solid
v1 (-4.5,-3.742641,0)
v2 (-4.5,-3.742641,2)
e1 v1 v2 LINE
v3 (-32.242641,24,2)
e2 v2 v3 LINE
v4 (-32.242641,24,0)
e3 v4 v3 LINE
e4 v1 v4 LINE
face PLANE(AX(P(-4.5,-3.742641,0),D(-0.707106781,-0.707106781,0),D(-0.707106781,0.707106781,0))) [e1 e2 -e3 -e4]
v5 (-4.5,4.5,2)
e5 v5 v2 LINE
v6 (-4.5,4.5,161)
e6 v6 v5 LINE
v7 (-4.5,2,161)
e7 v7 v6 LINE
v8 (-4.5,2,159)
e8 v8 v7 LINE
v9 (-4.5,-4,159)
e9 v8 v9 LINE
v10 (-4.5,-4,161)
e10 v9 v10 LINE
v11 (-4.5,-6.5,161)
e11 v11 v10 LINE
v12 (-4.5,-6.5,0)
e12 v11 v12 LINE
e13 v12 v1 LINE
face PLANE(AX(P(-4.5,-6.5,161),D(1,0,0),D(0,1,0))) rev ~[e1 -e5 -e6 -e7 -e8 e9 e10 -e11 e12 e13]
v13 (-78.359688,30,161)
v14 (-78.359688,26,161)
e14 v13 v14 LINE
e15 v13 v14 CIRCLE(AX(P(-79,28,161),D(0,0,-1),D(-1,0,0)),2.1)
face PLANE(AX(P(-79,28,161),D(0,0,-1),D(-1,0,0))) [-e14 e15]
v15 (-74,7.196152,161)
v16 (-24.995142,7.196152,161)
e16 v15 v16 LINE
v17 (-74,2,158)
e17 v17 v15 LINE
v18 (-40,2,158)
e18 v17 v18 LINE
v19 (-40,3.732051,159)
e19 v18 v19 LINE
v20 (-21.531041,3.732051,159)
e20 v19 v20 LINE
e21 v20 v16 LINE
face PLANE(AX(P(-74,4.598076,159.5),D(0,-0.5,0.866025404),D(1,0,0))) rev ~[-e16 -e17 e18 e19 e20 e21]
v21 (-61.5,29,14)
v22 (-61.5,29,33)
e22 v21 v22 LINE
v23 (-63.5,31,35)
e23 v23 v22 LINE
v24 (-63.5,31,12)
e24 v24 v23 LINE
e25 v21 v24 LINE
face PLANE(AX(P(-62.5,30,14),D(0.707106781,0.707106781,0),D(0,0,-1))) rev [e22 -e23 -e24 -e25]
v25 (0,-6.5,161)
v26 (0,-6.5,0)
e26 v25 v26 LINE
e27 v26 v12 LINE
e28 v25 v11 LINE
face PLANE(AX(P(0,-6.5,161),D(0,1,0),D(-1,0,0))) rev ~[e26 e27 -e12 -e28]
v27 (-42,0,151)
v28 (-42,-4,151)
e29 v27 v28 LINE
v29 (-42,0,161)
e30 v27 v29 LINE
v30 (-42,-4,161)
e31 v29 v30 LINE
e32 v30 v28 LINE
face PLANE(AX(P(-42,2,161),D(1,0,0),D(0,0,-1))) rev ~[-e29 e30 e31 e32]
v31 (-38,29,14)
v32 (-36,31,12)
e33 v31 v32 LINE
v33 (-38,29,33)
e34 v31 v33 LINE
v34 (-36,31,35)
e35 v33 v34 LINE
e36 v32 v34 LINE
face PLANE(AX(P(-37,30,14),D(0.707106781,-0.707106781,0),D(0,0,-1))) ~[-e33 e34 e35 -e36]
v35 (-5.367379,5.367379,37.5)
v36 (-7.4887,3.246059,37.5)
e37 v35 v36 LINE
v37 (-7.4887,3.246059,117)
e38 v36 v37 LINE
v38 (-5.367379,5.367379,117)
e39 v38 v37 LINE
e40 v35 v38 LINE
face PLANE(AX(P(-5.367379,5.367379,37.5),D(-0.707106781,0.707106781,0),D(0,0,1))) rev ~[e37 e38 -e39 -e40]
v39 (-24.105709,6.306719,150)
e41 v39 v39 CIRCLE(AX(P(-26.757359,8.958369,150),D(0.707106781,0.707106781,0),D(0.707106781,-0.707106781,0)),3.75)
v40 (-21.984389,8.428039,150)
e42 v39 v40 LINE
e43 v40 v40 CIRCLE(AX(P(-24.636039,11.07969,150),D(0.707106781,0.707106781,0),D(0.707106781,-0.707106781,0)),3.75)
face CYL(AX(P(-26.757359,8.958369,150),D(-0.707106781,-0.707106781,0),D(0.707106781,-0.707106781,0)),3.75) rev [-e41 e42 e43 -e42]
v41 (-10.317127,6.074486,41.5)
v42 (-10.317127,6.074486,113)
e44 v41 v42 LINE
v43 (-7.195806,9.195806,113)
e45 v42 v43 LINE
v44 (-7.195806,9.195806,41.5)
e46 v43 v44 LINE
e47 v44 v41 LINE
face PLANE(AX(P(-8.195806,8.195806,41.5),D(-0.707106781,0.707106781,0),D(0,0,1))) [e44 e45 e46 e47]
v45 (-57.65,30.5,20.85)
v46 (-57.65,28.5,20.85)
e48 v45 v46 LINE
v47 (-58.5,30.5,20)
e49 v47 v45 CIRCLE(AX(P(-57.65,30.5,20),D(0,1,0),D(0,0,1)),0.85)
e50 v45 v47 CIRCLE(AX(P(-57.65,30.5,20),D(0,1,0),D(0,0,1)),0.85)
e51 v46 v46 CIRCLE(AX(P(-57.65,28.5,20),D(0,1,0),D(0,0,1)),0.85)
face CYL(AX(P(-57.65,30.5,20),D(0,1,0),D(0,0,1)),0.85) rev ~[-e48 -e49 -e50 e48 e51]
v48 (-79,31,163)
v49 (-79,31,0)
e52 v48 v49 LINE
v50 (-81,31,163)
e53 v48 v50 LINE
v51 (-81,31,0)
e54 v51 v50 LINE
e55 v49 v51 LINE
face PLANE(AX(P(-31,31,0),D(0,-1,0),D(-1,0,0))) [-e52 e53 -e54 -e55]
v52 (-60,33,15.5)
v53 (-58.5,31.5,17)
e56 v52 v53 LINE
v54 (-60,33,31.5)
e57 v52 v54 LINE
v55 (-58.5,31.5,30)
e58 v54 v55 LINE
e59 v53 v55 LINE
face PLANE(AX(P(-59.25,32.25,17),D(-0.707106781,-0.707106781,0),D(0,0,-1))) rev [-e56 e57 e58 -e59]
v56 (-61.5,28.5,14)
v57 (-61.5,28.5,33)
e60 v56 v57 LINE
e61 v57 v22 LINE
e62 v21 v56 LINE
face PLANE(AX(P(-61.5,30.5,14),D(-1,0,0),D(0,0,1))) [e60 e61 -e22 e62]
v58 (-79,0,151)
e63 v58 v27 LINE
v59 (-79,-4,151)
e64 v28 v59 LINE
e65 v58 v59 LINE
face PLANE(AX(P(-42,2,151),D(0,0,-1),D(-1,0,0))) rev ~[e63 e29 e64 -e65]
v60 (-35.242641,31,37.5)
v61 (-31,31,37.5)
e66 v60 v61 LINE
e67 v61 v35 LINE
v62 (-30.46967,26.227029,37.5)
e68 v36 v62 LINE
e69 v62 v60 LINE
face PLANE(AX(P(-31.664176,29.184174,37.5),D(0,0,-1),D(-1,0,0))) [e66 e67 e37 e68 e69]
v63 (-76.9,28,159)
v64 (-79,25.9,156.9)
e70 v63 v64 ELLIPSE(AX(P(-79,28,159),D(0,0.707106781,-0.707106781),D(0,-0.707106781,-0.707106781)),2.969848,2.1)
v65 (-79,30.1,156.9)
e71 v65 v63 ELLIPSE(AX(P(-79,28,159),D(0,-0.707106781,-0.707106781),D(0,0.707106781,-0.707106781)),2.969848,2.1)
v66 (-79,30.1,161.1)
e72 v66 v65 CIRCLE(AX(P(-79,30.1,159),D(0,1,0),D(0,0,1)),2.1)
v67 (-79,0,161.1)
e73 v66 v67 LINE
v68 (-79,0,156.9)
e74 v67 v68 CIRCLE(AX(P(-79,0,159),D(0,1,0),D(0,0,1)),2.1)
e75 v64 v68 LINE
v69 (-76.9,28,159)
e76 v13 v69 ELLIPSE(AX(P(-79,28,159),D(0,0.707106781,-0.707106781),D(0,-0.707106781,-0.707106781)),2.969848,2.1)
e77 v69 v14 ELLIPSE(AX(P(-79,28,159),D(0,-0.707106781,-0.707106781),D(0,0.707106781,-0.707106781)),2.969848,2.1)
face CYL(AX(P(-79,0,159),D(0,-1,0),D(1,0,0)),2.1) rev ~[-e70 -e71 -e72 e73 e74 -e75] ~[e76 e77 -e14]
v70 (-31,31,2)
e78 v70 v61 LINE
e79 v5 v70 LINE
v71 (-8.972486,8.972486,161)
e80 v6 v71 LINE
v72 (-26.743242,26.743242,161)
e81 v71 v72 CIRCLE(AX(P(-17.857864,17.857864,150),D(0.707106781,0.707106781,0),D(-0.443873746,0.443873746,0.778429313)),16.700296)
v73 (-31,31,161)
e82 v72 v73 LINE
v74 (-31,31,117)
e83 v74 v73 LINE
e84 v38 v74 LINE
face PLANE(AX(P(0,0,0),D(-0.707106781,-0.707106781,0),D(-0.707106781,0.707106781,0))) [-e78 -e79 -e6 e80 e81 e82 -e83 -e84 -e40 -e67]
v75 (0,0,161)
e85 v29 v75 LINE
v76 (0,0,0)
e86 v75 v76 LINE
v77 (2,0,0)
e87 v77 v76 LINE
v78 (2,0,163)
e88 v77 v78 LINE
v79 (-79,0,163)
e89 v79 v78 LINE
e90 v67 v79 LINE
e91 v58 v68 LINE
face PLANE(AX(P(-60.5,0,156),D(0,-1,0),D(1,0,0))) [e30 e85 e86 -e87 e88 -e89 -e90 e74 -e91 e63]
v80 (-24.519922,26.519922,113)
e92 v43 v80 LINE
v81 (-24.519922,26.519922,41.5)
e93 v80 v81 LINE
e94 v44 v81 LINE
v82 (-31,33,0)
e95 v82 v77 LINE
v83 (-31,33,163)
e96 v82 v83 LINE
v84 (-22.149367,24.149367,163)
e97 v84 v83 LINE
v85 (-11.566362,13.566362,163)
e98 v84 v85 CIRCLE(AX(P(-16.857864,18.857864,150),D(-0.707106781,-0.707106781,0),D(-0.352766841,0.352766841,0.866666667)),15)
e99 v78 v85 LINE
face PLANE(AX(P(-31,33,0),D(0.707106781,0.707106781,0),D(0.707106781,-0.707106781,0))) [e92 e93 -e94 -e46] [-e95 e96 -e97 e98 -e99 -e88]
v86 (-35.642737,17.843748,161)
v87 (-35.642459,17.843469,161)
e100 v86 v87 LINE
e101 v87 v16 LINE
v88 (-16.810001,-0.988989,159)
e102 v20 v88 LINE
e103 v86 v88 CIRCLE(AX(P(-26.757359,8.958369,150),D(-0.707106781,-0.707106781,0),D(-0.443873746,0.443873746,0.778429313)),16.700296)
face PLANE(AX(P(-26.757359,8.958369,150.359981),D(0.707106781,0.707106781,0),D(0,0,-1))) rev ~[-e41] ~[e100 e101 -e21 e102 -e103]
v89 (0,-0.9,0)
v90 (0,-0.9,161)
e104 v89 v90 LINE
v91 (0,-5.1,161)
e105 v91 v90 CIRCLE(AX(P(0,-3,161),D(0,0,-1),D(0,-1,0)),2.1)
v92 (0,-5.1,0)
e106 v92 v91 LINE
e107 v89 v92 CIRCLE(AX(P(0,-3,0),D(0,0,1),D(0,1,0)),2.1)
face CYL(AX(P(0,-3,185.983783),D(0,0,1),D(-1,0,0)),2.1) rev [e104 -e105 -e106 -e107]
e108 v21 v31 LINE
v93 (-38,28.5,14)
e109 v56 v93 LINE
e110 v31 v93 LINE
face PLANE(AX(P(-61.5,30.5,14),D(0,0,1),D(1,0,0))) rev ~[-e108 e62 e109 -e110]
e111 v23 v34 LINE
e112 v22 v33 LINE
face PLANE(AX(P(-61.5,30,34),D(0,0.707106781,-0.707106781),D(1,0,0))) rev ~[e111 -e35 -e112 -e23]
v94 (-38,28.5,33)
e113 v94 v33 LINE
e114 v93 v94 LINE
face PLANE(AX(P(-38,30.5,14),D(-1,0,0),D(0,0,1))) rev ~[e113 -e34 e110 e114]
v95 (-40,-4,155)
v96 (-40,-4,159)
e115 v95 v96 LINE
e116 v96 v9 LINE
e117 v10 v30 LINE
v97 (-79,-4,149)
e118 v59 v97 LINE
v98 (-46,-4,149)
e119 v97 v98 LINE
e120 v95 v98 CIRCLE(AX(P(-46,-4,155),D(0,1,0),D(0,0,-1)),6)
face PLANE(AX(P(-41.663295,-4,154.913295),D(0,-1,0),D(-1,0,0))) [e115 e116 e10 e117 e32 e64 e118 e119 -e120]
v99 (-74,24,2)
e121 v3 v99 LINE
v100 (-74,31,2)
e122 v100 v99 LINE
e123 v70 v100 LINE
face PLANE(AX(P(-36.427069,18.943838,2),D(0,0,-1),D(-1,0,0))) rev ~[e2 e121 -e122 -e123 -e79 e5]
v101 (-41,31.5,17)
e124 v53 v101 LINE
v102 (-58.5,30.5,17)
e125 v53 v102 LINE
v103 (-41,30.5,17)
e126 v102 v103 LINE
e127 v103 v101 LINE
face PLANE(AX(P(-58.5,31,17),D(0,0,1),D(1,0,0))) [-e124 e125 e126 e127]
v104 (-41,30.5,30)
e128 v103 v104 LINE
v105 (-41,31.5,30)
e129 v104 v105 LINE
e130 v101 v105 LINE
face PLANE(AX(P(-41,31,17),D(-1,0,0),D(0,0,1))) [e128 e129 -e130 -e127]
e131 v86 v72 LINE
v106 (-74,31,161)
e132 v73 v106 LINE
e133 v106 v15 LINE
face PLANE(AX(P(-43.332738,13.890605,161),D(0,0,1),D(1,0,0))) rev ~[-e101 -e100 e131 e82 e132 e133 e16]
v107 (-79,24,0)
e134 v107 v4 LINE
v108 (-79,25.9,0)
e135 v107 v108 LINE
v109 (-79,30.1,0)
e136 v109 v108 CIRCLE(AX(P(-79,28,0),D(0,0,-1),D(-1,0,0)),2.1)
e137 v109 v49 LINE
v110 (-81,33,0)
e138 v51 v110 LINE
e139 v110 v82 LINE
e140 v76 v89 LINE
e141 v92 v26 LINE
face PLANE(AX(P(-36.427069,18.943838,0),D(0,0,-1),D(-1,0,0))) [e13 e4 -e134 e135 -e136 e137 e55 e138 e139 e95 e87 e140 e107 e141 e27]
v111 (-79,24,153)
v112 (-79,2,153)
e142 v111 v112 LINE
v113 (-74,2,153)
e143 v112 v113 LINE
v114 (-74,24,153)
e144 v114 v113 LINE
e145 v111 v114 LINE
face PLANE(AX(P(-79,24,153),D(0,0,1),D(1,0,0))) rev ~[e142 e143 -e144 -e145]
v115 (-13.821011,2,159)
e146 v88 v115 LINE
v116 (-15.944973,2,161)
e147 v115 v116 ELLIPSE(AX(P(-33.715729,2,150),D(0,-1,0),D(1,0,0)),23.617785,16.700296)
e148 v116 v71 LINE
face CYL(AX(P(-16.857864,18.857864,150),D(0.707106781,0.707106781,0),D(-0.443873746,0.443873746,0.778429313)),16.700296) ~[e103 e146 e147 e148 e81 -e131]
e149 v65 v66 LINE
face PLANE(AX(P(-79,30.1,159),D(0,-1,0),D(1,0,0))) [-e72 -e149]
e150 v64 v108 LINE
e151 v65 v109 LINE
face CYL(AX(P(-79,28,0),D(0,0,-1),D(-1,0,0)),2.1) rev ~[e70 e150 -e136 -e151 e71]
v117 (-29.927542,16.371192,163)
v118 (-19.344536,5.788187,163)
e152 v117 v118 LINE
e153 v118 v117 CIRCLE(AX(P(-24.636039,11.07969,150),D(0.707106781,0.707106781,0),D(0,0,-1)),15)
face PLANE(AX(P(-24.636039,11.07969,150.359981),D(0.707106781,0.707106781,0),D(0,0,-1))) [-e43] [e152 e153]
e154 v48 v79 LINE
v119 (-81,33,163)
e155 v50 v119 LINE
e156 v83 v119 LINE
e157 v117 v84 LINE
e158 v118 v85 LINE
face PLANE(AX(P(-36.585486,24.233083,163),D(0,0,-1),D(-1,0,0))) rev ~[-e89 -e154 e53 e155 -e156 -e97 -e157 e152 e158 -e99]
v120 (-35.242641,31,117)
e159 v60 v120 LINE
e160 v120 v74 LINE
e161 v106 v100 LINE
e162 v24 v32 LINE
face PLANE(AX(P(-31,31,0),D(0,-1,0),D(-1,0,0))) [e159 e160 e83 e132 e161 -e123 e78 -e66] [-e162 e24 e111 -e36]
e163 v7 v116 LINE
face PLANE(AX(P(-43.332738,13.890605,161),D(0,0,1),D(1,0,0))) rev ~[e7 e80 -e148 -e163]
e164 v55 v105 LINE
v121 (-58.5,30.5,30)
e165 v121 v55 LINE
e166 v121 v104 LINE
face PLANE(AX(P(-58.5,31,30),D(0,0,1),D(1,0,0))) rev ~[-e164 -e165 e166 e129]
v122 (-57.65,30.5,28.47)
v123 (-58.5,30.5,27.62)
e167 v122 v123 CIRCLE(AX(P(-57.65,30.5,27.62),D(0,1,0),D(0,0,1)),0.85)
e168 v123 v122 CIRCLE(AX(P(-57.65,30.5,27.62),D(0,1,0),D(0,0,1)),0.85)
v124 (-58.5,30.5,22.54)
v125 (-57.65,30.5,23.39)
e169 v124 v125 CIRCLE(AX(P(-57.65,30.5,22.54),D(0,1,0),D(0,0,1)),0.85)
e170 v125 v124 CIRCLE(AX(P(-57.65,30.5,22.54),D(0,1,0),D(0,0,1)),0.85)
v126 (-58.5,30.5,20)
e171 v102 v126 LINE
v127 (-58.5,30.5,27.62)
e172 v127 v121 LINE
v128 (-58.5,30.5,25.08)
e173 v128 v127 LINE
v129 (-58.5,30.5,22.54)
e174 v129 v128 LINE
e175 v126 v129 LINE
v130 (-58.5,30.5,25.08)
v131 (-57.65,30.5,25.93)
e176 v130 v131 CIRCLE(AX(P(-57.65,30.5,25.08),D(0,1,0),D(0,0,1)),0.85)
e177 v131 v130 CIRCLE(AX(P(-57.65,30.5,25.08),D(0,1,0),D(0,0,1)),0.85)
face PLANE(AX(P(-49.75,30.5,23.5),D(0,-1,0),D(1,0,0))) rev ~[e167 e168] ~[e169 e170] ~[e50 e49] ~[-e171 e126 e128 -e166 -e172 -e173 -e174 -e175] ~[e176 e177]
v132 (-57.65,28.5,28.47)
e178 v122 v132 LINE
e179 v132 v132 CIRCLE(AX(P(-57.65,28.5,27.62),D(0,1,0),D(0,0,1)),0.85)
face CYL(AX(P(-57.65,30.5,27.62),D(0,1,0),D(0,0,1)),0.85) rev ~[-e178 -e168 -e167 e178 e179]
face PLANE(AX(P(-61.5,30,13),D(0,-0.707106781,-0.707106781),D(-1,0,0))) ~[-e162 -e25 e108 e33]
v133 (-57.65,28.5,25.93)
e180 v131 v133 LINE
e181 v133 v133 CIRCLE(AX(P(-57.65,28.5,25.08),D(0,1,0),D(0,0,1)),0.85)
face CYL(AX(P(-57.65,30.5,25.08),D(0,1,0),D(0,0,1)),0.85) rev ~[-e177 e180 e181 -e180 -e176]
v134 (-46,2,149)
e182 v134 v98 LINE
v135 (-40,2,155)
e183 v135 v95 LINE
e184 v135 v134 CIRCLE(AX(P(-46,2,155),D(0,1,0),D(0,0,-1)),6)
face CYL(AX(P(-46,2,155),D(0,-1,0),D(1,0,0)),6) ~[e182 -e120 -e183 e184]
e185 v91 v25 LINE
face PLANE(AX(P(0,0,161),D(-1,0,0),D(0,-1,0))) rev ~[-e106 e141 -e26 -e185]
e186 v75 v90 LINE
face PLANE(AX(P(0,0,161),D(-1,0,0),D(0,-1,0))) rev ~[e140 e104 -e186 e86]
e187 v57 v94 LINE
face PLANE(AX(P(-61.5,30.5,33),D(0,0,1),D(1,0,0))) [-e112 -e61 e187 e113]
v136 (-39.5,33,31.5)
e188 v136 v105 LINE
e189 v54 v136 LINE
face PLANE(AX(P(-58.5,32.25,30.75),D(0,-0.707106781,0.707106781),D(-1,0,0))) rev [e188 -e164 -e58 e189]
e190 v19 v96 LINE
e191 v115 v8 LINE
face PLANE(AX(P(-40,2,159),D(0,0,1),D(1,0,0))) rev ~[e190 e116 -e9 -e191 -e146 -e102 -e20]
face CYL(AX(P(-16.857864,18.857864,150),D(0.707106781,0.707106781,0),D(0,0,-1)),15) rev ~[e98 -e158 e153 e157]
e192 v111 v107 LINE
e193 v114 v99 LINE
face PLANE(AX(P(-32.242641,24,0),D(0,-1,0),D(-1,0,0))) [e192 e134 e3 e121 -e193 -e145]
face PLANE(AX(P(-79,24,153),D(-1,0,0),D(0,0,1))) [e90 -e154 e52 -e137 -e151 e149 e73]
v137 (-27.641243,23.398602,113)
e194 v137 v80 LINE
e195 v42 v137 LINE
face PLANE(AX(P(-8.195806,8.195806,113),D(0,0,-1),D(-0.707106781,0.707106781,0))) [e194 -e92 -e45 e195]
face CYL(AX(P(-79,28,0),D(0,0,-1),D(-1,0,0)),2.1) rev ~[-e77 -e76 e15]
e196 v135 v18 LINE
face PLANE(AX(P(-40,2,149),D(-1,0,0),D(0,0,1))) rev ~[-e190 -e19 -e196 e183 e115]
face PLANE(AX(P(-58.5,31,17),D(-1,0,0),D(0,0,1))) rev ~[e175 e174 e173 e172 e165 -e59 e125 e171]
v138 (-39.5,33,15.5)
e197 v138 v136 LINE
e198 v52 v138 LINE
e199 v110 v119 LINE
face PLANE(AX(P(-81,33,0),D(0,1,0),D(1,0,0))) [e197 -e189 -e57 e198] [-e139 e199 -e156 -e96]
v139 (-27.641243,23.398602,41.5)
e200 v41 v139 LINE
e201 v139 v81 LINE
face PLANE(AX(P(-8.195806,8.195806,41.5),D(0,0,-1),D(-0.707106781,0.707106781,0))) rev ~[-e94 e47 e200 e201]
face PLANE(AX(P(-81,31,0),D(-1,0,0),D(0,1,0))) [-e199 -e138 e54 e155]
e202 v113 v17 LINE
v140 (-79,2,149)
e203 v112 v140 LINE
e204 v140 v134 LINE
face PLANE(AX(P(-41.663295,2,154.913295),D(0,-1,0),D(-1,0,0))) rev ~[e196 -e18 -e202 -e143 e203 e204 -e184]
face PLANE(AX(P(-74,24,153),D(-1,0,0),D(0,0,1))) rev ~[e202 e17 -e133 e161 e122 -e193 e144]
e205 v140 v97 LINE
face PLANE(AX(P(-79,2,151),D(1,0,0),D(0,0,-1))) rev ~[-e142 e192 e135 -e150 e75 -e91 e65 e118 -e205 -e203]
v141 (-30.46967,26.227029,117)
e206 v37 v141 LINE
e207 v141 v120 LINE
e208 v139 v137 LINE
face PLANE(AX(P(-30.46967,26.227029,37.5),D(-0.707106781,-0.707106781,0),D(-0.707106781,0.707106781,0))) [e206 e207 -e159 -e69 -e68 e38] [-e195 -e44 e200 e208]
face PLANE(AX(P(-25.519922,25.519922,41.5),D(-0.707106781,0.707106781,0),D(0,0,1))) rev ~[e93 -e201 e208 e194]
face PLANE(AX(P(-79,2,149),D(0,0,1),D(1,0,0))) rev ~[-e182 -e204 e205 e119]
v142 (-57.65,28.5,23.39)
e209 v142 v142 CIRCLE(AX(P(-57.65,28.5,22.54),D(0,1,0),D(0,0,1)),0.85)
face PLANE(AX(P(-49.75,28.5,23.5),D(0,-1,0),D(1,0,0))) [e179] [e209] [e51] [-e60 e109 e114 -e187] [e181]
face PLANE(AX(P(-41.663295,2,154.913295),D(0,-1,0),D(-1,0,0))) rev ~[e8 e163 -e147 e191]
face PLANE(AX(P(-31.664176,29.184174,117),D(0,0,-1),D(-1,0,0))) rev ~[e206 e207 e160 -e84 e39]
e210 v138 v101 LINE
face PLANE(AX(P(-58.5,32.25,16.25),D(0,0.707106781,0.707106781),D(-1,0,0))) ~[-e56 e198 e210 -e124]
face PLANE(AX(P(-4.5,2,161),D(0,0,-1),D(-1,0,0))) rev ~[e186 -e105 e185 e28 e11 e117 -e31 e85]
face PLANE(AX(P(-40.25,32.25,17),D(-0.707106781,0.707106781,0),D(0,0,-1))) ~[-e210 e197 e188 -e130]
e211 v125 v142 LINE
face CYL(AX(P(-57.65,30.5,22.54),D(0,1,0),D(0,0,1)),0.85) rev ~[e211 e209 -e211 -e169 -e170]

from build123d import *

# Parameters (mm, degrees)
EXTRUDE_1_DEPTH          = 163
EXTRUDE_2_DEPTH          = 2
EXTRUDE_3_DEPTH          = 2
SKETCH_4_W               = 37
SKETCH_4_H               = 10
EXTRUDE_4_DEPTH          = 2
SKETCH_5_W               = 71.5
SKETCH_5_H               = 24.5
CUT_EXTRUDE_1_DEPTH      = 186.248481775
SKETCH_6_W               = 79.5
SKETCH_6_H               = 32.5
SKETCH_6_W_2             = 71.5
SKETCH_6_H_2             = 24.5
EXTRUDE_5_DEPTH          = 3
EXTRUDE_6_DEPTH          = 79.5
SKETCH_10_R              = 15
CUT_EXTRUDE_2_DEPTH      = 14
EXTRUDE_8_DEPTH          = 14
SKETCH_12_R              = 3.75
EXTRUDE_9_DEPTH          = 3
CUT_EXTRUDE_3_DEPTH      = 186.137402806
CUT_EXTRUDE_3_DEPTH_BACK = 186.137402806
SKETCH_14_W              = 17.5
SKETCH_14_H              = 13
SKETCH_15_W              = 23.5
SKETCH_15_H              = 19
SKETCH_15_W_2            = 17.5
SKETCH_15_H_2            = 13
EXTRUDE_10_DEPTH         = 0.5
SKETCH_16_W              = 23.5
SKETCH_16_H              = 19
EXTRUDE_11_DEPTH         = 2
CHAMFER_2_SIZE           = 2
CHAMFER_3_SIZE           = 1.5
SKETCH_17_R              = 0.85
CUT_EXTRUDE_4_DEPTH      = 10
SKETCH_18_W              = 5
SKETCH_18_H              = 7
EXTRUDE_12_DEPTH         = 161
SKETCH_19_R              = 2.1
CUT_EXTRUDE_5_DEPTH      = 161
SKETCH_20_W              = 5
SKETCH_20_H              = 8
EXTRUDE_13_DEPTH         = 22
SKETCH_21_R              = 2.1
CUT_EXTRUDE_6_DEPTH      = 30.1
EXTRUDE_14_DEPTH         = 161
CUT_EXTRUDE_7_DEPTH      = 185.983783073
CUT_EXTRUDE_7_DEPTH_BACK = 185.983783073
SKETCH_23_R              = 2.1
EXTRUDE_15_DEPTH         = 2
EXTRUDE_16_DEPTH         = 6
FILLET_1_R               = 6
CHAMFER_5_SIZE           = 3
CHAMFER_5_SIZE2          = 5.196152423


with BuildPart() as part:
    # Эскиз1 → Бобышка-Вытянуть1 (new body)
    with BuildSketch(Plane.XY):
        Polygon((0, 0), (-31, 31), (-81, 31), (-81, 33), (-31, 33), (2, 0), align=None)
    extrude(amount=EXTRUDE_1_DEPTH)

    # Эскиз2 → Бобышка-Вытянуть2 (add)
    with BuildSketch(Plane.XY.offset(163)):
        Polygon((2, 0), (-31, 33), (-79, 33), (-79, 0), align=None)
    extrude(amount=-EXTRUDE_2_DEPTH)

    # Эскиз3 → Бобышка-Вытянуть3 (add)
    with BuildSketch(Plane(origin=(0, 0, 0), x_dir=(-1, 0, 0), z_dir=(0, 0, -1))):
        Polygon((0, 0), (31, 31), (79, 31), (79, 28), (32.242640687, 28), (4.242640687, 0), align=None)
    extrude(amount=-EXTRUDE_3_DEPTH)

    # Эскиз4 → Бобышка-Вытянуть4 (add)
    with BuildSketch(Plane.XZ):
        with Locations((-60.5, 156)):
            Rectangle(SKETCH_4_W, SKETCH_4_H)
    extrude(amount=-EXTRUDE_4_DEPTH)

    # Эскиз5 → Вырез-Вытянуть1 (cut, through all)
    with BuildSketch(Plane(origin=(1, 1, 0), x_dir=(0, 0, -1), z_dir=(0.7071067811865461, 0.7071067811865489, 0))):
        with Locations((-77.25, 23.840620434)):
            Rectangle(SKETCH_5_W, SKETCH_5_H)
    extrude(amount=-CUT_EXTRUDE_1_DEPTH, mode=Mode.SUBTRACT)

    # Эскиз6 → Бобышка-Вытянуть5 (add)
    with BuildSketch(Plane(origin=(0, 0, 0), x_dir=(0, 0, 1), z_dir=(-0.7071067811865462, -0.7071067811865489, 0))):
        with Locations((77.25, 23.840620434)):
            Rectangle(SKETCH_6_W, SKETCH_6_H)
        with Locations((77.25, 23.840620434)):
            Rectangle(SKETCH_6_W_2, SKETCH_6_H_2, mode=Mode.SUBTRACT)
    extrude(amount=EXTRUDE_5_DEPTH)

    # Эскиз8 → Бобышка-Вытянуть6 (add)
    with BuildSketch(Plane(origin=(0, 0, 37.5), x_dir=(-1, 0, 0), z_dir=(0, 0, -1))):
        Polygon((28.348349571, 28.348349571), (30.469669914, 26.227029227), (35.242640687, 31), (31, 31), align=None)
    extrude(amount=-EXTRUDE_6_DEPTH)

    # Эскиз10 → Вырез-Вытянуть2 (cut)
    with BuildSketch(Plane(origin=(1, 1, 0), x_dir=(0, 0, -1), z_dir=(0.7071067811865461, 0.7071067811865489, 0))):
        with Locations((-150, 25.254833996)):
            Circle(SKETCH_10_R)
    extrude(amount=-CUT_EXTRUDE_2_DEPTH, mode=Mode.SUBTRACT)

    # Эскиз11 → Бобышка-Вытянуть8 (add)
    with BuildSketch(Plane(origin=(1, 1, 0), x_dir=(0, 0, -1), z_dir=(0.7071067811865461, 0.7071067811865489, 0))):
        with BuildLine():
            Line((-163, 32.738148769), (-163, 35.738148769))
            ThreePointArc((-163, 35.738148769), (-133.299703936, 25.254833996), (-163, 14.771519222))
            Line((-163, 14.771519222), (-163, 17.771519222))
            ThreePointArc((-163, 17.771519222), (-135, 25.254833996), (-163, 32.738148769))
        make_face()
    extrude(amount=-EXTRUDE_8_DEPTH)

    # Эскиз12 → Бобышка-Вытянуть9 (add)
    with BuildSketch(Plane(origin=(-8.899494937, -8.899494937, 0), x_dir=(0, 0, -1), z_dir=(0.7071067811865461, 0.7071067811865489, 0))):
        with BuildLine():
            Line((-163, 35.737677122), (-163, 14.77199087))
            ThreePointArc((-163, 14.77199087), (-133.3, 25.254833996), (-163, 35.737677122))
        make_face()
        with Locations(Location((-150, 25.254833996, 0), (0, 0, 270))):
            Circle(SKETCH_12_R, mode=Mode.SUBTRACT)
    extrude(amount=EXTRUDE_9_DEPTH)

    # Эскиз14 → Вырез-Вытянуть3 (cut, two sides: drawn at the far end of the back side and taken through both)
    with BuildSketch(Plane.XZ.offset(-31).offset(-CUT_EXTRUDE_3_DEPTH_BACK)):
        with Locations((-49.75, 23.5)):
            Rectangle(SKETCH_14_W, SKETCH_14_H)
    extrude(amount=CUT_EXTRUDE_3_DEPTH + CUT_EXTRUDE_3_DEPTH_BACK, mode=Mode.SUBTRACT)

    # Эскиз15 → Бобышка-Вытянуть10 (add)
    with BuildSketch(Plane.XZ.offset(-31)):
        with Locations((-49.75, 23.5)):
            Rectangle(SKETCH_15_W, SKETCH_15_H)
        with Locations((-49.75, 23.5)):
            Rectangle(SKETCH_15_W_2, SKETCH_15_H_2, mode=Mode.SUBTRACT)
    extrude(amount=EXTRUDE_10_DEPTH)

    # Эскиз16 → Бобышка-Вытянуть11 (add)
    with BuildSketch(Plane.XZ.offset(-30.5)):
        with Locations((-49.75, 23.5)):
            Rectangle(SKETCH_16_W, SKETCH_16_H)
    extrude(amount=EXTRUDE_11_DEPTH)

    # Фаска2
    chamfer_2_edges = [part.edges().sort_by_distance(p)[0] for p in [
        (-38, 31, 23.5),
        (-49.75, 31, 33),
        (-61.5, 31, 23.5),
        (-49.75, 31, 14),
    ]]
    chamfer(chamfer_2_edges, length=CHAMFER_2_SIZE)

    # Фаска3
    chamfer_3_edges = [part.edges().sort_by_distance(p)[0] for p in [
        (-41, 33, 23.5),
        (-49.75, 33, 17),
        (-58.5, 33, 23.5),
        (-49.75, 33, 30),
    ]]
    chamfer(chamfer_3_edges, length=CHAMFER_3_SIZE)

    # Эскиз17 → Вырез-Вытянуть4 (cut)
    with BuildSketch(Plane(origin=(0, 30.5, 0), x_dir=(1, 0, 0), z_dir=(0, 1, 0))):
        with Locations(Location((-57.65, -20, 0), (0, 0, 270))):
            Circle(SKETCH_17_R)
        with Locations(Location((-57.65, -22.54, 0), (0, 0, 270))):
            Circle(SKETCH_17_R)
        with Locations(Location((-57.65, -25.08, 0), (0, 0, 270))):
            Circle(SKETCH_17_R)
        with Locations(Location((-57.65, -27.62, 0), (0, 0, 270))):
            Circle(SKETCH_17_R)
    extrude(amount=-CUT_EXTRUDE_4_DEPTH, mode=Mode.SUBTRACT)

    # Эскиз18 → Бобышка-Вытянуть12 (add)
    with BuildSketch(Plane(origin=(0, 0, 161), x_dir=(-1, 0, 0), z_dir=(0, 0, -1))):
        with Locations((76.5, 27.5)):
            Rectangle(SKETCH_18_W, SKETCH_18_H)
    extrude(amount=EXTRUDE_12_DEPTH)

    # Эскиз19 → Вырез-Вытянуть5 (cut)
    with BuildSketch(Plane(origin=(0, 0, 0), x_dir=(-1, 0, 0), z_dir=(0, 0, -1))):
        with Locations((79, 28)):
            Circle(SKETCH_19_R)
    extrude(amount=-CUT_EXTRUDE_5_DEPTH, mode=Mode.SUBTRACT)

    # Эскиз20 → Бобышка-Вытянуть13 (add)
    with BuildSketch(Plane.XZ.offset(-24)):
        with Locations((-76.5, 157)):
            Rectangle(SKETCH_20_W, SKETCH_20_H)
    extrude(amount=EXTRUDE_13_DEPTH)

    # Эскиз21 → Вырез-Вытянуть6 (cut)
    with BuildSketch(Plane.XZ):
        with Locations((-79, 159)):
            Circle(SKETCH_21_R)
    extrude(amount=-CUT_EXTRUDE_6_DEPTH, mode=Mode.SUBTRACT)

    # Эскиз22 → Бобышка-Вытянуть14 (add)
    with BuildSketch(Plane(origin=(0, 0, 161), x_dir=(-1, 0, 0), z_dir=(0, 0, -1))):
        Polygon((4.5, -1.5), (4.5, 4.5), (0, 0), (0, -6.5), (4.5, -6.5), align=None)
    extrude(amount=EXTRUDE_14_DEPTH)

    # Эскиз23 → Вырез-Вытянуть7 (cut, two sides: drawn at the far end of the back side and taken through both)
    with BuildSketch(Plane(origin=(0, 0, 0), x_dir=(-1, 0, 0), z_dir=(0, 0, -1)).offset(-CUT_EXTRUDE_7_DEPTH_BACK)):
        with Locations((0, -3)):
            Circle(SKETCH_23_R)
    extrude(amount=CUT_EXTRUDE_7_DEPTH + CUT_EXTRUDE_7_DEPTH_BACK, mode=Mode.SUBTRACT)

    # Эскиз24 → Бобышка-Вытянуть15 (add)
    with BuildSketch(Plane(origin=(0, 0, 0), x_dir=(-1, 0, 0), z_dir=(0, 0, -1))):
        Polygon((74, 24), (74, 28), (32.242640687, 28), (4.5, 0.257359313), (4.5, -3.742640687), (32.242640687, 24), align=None)
    extrude(amount=-EXTRUDE_15_DEPTH)

    # Эскиз25 → Бобышка-Вытянуть16 (add)
    with BuildSketch(Plane(origin=(0, 2, 0), x_dir=(1, 0, 0), z_dir=(0, 1, 0))):
        Polygon((-42, -151), (-79, -151), (-79, -149), (-40, -149), (-40, -159), (-4.5, -159), (-4.5, -161), (-42, -161), align=None)
    extrude(amount=-EXTRUDE_16_DEPTH)

    # Скругление1
    fillet_1_edges = [part.edges().sort_by_distance(p)[0] for p in [
        (-40, -1, 149),
    ]]
    fillet(fillet_1_edges, radius=FILLET_1_R)

    # Фаска5
    chamfer_5_edges = [part.edges().sort_by_distance(p)[0] for p in [
        (-46.899494937, 2, 161),
    ]]
    chamfer_5_side = [part.faces().sort_by_distance(p)[0] for p in [
        (-55.732444542, 2, 155.342995901),
    ]]
    chamfer(chamfer_5_edges, length=CHAMFER_5_SIZE, length2=CHAMFER_5_SIZE2, reference=chamfer_5_side[0])


solid = part.part
